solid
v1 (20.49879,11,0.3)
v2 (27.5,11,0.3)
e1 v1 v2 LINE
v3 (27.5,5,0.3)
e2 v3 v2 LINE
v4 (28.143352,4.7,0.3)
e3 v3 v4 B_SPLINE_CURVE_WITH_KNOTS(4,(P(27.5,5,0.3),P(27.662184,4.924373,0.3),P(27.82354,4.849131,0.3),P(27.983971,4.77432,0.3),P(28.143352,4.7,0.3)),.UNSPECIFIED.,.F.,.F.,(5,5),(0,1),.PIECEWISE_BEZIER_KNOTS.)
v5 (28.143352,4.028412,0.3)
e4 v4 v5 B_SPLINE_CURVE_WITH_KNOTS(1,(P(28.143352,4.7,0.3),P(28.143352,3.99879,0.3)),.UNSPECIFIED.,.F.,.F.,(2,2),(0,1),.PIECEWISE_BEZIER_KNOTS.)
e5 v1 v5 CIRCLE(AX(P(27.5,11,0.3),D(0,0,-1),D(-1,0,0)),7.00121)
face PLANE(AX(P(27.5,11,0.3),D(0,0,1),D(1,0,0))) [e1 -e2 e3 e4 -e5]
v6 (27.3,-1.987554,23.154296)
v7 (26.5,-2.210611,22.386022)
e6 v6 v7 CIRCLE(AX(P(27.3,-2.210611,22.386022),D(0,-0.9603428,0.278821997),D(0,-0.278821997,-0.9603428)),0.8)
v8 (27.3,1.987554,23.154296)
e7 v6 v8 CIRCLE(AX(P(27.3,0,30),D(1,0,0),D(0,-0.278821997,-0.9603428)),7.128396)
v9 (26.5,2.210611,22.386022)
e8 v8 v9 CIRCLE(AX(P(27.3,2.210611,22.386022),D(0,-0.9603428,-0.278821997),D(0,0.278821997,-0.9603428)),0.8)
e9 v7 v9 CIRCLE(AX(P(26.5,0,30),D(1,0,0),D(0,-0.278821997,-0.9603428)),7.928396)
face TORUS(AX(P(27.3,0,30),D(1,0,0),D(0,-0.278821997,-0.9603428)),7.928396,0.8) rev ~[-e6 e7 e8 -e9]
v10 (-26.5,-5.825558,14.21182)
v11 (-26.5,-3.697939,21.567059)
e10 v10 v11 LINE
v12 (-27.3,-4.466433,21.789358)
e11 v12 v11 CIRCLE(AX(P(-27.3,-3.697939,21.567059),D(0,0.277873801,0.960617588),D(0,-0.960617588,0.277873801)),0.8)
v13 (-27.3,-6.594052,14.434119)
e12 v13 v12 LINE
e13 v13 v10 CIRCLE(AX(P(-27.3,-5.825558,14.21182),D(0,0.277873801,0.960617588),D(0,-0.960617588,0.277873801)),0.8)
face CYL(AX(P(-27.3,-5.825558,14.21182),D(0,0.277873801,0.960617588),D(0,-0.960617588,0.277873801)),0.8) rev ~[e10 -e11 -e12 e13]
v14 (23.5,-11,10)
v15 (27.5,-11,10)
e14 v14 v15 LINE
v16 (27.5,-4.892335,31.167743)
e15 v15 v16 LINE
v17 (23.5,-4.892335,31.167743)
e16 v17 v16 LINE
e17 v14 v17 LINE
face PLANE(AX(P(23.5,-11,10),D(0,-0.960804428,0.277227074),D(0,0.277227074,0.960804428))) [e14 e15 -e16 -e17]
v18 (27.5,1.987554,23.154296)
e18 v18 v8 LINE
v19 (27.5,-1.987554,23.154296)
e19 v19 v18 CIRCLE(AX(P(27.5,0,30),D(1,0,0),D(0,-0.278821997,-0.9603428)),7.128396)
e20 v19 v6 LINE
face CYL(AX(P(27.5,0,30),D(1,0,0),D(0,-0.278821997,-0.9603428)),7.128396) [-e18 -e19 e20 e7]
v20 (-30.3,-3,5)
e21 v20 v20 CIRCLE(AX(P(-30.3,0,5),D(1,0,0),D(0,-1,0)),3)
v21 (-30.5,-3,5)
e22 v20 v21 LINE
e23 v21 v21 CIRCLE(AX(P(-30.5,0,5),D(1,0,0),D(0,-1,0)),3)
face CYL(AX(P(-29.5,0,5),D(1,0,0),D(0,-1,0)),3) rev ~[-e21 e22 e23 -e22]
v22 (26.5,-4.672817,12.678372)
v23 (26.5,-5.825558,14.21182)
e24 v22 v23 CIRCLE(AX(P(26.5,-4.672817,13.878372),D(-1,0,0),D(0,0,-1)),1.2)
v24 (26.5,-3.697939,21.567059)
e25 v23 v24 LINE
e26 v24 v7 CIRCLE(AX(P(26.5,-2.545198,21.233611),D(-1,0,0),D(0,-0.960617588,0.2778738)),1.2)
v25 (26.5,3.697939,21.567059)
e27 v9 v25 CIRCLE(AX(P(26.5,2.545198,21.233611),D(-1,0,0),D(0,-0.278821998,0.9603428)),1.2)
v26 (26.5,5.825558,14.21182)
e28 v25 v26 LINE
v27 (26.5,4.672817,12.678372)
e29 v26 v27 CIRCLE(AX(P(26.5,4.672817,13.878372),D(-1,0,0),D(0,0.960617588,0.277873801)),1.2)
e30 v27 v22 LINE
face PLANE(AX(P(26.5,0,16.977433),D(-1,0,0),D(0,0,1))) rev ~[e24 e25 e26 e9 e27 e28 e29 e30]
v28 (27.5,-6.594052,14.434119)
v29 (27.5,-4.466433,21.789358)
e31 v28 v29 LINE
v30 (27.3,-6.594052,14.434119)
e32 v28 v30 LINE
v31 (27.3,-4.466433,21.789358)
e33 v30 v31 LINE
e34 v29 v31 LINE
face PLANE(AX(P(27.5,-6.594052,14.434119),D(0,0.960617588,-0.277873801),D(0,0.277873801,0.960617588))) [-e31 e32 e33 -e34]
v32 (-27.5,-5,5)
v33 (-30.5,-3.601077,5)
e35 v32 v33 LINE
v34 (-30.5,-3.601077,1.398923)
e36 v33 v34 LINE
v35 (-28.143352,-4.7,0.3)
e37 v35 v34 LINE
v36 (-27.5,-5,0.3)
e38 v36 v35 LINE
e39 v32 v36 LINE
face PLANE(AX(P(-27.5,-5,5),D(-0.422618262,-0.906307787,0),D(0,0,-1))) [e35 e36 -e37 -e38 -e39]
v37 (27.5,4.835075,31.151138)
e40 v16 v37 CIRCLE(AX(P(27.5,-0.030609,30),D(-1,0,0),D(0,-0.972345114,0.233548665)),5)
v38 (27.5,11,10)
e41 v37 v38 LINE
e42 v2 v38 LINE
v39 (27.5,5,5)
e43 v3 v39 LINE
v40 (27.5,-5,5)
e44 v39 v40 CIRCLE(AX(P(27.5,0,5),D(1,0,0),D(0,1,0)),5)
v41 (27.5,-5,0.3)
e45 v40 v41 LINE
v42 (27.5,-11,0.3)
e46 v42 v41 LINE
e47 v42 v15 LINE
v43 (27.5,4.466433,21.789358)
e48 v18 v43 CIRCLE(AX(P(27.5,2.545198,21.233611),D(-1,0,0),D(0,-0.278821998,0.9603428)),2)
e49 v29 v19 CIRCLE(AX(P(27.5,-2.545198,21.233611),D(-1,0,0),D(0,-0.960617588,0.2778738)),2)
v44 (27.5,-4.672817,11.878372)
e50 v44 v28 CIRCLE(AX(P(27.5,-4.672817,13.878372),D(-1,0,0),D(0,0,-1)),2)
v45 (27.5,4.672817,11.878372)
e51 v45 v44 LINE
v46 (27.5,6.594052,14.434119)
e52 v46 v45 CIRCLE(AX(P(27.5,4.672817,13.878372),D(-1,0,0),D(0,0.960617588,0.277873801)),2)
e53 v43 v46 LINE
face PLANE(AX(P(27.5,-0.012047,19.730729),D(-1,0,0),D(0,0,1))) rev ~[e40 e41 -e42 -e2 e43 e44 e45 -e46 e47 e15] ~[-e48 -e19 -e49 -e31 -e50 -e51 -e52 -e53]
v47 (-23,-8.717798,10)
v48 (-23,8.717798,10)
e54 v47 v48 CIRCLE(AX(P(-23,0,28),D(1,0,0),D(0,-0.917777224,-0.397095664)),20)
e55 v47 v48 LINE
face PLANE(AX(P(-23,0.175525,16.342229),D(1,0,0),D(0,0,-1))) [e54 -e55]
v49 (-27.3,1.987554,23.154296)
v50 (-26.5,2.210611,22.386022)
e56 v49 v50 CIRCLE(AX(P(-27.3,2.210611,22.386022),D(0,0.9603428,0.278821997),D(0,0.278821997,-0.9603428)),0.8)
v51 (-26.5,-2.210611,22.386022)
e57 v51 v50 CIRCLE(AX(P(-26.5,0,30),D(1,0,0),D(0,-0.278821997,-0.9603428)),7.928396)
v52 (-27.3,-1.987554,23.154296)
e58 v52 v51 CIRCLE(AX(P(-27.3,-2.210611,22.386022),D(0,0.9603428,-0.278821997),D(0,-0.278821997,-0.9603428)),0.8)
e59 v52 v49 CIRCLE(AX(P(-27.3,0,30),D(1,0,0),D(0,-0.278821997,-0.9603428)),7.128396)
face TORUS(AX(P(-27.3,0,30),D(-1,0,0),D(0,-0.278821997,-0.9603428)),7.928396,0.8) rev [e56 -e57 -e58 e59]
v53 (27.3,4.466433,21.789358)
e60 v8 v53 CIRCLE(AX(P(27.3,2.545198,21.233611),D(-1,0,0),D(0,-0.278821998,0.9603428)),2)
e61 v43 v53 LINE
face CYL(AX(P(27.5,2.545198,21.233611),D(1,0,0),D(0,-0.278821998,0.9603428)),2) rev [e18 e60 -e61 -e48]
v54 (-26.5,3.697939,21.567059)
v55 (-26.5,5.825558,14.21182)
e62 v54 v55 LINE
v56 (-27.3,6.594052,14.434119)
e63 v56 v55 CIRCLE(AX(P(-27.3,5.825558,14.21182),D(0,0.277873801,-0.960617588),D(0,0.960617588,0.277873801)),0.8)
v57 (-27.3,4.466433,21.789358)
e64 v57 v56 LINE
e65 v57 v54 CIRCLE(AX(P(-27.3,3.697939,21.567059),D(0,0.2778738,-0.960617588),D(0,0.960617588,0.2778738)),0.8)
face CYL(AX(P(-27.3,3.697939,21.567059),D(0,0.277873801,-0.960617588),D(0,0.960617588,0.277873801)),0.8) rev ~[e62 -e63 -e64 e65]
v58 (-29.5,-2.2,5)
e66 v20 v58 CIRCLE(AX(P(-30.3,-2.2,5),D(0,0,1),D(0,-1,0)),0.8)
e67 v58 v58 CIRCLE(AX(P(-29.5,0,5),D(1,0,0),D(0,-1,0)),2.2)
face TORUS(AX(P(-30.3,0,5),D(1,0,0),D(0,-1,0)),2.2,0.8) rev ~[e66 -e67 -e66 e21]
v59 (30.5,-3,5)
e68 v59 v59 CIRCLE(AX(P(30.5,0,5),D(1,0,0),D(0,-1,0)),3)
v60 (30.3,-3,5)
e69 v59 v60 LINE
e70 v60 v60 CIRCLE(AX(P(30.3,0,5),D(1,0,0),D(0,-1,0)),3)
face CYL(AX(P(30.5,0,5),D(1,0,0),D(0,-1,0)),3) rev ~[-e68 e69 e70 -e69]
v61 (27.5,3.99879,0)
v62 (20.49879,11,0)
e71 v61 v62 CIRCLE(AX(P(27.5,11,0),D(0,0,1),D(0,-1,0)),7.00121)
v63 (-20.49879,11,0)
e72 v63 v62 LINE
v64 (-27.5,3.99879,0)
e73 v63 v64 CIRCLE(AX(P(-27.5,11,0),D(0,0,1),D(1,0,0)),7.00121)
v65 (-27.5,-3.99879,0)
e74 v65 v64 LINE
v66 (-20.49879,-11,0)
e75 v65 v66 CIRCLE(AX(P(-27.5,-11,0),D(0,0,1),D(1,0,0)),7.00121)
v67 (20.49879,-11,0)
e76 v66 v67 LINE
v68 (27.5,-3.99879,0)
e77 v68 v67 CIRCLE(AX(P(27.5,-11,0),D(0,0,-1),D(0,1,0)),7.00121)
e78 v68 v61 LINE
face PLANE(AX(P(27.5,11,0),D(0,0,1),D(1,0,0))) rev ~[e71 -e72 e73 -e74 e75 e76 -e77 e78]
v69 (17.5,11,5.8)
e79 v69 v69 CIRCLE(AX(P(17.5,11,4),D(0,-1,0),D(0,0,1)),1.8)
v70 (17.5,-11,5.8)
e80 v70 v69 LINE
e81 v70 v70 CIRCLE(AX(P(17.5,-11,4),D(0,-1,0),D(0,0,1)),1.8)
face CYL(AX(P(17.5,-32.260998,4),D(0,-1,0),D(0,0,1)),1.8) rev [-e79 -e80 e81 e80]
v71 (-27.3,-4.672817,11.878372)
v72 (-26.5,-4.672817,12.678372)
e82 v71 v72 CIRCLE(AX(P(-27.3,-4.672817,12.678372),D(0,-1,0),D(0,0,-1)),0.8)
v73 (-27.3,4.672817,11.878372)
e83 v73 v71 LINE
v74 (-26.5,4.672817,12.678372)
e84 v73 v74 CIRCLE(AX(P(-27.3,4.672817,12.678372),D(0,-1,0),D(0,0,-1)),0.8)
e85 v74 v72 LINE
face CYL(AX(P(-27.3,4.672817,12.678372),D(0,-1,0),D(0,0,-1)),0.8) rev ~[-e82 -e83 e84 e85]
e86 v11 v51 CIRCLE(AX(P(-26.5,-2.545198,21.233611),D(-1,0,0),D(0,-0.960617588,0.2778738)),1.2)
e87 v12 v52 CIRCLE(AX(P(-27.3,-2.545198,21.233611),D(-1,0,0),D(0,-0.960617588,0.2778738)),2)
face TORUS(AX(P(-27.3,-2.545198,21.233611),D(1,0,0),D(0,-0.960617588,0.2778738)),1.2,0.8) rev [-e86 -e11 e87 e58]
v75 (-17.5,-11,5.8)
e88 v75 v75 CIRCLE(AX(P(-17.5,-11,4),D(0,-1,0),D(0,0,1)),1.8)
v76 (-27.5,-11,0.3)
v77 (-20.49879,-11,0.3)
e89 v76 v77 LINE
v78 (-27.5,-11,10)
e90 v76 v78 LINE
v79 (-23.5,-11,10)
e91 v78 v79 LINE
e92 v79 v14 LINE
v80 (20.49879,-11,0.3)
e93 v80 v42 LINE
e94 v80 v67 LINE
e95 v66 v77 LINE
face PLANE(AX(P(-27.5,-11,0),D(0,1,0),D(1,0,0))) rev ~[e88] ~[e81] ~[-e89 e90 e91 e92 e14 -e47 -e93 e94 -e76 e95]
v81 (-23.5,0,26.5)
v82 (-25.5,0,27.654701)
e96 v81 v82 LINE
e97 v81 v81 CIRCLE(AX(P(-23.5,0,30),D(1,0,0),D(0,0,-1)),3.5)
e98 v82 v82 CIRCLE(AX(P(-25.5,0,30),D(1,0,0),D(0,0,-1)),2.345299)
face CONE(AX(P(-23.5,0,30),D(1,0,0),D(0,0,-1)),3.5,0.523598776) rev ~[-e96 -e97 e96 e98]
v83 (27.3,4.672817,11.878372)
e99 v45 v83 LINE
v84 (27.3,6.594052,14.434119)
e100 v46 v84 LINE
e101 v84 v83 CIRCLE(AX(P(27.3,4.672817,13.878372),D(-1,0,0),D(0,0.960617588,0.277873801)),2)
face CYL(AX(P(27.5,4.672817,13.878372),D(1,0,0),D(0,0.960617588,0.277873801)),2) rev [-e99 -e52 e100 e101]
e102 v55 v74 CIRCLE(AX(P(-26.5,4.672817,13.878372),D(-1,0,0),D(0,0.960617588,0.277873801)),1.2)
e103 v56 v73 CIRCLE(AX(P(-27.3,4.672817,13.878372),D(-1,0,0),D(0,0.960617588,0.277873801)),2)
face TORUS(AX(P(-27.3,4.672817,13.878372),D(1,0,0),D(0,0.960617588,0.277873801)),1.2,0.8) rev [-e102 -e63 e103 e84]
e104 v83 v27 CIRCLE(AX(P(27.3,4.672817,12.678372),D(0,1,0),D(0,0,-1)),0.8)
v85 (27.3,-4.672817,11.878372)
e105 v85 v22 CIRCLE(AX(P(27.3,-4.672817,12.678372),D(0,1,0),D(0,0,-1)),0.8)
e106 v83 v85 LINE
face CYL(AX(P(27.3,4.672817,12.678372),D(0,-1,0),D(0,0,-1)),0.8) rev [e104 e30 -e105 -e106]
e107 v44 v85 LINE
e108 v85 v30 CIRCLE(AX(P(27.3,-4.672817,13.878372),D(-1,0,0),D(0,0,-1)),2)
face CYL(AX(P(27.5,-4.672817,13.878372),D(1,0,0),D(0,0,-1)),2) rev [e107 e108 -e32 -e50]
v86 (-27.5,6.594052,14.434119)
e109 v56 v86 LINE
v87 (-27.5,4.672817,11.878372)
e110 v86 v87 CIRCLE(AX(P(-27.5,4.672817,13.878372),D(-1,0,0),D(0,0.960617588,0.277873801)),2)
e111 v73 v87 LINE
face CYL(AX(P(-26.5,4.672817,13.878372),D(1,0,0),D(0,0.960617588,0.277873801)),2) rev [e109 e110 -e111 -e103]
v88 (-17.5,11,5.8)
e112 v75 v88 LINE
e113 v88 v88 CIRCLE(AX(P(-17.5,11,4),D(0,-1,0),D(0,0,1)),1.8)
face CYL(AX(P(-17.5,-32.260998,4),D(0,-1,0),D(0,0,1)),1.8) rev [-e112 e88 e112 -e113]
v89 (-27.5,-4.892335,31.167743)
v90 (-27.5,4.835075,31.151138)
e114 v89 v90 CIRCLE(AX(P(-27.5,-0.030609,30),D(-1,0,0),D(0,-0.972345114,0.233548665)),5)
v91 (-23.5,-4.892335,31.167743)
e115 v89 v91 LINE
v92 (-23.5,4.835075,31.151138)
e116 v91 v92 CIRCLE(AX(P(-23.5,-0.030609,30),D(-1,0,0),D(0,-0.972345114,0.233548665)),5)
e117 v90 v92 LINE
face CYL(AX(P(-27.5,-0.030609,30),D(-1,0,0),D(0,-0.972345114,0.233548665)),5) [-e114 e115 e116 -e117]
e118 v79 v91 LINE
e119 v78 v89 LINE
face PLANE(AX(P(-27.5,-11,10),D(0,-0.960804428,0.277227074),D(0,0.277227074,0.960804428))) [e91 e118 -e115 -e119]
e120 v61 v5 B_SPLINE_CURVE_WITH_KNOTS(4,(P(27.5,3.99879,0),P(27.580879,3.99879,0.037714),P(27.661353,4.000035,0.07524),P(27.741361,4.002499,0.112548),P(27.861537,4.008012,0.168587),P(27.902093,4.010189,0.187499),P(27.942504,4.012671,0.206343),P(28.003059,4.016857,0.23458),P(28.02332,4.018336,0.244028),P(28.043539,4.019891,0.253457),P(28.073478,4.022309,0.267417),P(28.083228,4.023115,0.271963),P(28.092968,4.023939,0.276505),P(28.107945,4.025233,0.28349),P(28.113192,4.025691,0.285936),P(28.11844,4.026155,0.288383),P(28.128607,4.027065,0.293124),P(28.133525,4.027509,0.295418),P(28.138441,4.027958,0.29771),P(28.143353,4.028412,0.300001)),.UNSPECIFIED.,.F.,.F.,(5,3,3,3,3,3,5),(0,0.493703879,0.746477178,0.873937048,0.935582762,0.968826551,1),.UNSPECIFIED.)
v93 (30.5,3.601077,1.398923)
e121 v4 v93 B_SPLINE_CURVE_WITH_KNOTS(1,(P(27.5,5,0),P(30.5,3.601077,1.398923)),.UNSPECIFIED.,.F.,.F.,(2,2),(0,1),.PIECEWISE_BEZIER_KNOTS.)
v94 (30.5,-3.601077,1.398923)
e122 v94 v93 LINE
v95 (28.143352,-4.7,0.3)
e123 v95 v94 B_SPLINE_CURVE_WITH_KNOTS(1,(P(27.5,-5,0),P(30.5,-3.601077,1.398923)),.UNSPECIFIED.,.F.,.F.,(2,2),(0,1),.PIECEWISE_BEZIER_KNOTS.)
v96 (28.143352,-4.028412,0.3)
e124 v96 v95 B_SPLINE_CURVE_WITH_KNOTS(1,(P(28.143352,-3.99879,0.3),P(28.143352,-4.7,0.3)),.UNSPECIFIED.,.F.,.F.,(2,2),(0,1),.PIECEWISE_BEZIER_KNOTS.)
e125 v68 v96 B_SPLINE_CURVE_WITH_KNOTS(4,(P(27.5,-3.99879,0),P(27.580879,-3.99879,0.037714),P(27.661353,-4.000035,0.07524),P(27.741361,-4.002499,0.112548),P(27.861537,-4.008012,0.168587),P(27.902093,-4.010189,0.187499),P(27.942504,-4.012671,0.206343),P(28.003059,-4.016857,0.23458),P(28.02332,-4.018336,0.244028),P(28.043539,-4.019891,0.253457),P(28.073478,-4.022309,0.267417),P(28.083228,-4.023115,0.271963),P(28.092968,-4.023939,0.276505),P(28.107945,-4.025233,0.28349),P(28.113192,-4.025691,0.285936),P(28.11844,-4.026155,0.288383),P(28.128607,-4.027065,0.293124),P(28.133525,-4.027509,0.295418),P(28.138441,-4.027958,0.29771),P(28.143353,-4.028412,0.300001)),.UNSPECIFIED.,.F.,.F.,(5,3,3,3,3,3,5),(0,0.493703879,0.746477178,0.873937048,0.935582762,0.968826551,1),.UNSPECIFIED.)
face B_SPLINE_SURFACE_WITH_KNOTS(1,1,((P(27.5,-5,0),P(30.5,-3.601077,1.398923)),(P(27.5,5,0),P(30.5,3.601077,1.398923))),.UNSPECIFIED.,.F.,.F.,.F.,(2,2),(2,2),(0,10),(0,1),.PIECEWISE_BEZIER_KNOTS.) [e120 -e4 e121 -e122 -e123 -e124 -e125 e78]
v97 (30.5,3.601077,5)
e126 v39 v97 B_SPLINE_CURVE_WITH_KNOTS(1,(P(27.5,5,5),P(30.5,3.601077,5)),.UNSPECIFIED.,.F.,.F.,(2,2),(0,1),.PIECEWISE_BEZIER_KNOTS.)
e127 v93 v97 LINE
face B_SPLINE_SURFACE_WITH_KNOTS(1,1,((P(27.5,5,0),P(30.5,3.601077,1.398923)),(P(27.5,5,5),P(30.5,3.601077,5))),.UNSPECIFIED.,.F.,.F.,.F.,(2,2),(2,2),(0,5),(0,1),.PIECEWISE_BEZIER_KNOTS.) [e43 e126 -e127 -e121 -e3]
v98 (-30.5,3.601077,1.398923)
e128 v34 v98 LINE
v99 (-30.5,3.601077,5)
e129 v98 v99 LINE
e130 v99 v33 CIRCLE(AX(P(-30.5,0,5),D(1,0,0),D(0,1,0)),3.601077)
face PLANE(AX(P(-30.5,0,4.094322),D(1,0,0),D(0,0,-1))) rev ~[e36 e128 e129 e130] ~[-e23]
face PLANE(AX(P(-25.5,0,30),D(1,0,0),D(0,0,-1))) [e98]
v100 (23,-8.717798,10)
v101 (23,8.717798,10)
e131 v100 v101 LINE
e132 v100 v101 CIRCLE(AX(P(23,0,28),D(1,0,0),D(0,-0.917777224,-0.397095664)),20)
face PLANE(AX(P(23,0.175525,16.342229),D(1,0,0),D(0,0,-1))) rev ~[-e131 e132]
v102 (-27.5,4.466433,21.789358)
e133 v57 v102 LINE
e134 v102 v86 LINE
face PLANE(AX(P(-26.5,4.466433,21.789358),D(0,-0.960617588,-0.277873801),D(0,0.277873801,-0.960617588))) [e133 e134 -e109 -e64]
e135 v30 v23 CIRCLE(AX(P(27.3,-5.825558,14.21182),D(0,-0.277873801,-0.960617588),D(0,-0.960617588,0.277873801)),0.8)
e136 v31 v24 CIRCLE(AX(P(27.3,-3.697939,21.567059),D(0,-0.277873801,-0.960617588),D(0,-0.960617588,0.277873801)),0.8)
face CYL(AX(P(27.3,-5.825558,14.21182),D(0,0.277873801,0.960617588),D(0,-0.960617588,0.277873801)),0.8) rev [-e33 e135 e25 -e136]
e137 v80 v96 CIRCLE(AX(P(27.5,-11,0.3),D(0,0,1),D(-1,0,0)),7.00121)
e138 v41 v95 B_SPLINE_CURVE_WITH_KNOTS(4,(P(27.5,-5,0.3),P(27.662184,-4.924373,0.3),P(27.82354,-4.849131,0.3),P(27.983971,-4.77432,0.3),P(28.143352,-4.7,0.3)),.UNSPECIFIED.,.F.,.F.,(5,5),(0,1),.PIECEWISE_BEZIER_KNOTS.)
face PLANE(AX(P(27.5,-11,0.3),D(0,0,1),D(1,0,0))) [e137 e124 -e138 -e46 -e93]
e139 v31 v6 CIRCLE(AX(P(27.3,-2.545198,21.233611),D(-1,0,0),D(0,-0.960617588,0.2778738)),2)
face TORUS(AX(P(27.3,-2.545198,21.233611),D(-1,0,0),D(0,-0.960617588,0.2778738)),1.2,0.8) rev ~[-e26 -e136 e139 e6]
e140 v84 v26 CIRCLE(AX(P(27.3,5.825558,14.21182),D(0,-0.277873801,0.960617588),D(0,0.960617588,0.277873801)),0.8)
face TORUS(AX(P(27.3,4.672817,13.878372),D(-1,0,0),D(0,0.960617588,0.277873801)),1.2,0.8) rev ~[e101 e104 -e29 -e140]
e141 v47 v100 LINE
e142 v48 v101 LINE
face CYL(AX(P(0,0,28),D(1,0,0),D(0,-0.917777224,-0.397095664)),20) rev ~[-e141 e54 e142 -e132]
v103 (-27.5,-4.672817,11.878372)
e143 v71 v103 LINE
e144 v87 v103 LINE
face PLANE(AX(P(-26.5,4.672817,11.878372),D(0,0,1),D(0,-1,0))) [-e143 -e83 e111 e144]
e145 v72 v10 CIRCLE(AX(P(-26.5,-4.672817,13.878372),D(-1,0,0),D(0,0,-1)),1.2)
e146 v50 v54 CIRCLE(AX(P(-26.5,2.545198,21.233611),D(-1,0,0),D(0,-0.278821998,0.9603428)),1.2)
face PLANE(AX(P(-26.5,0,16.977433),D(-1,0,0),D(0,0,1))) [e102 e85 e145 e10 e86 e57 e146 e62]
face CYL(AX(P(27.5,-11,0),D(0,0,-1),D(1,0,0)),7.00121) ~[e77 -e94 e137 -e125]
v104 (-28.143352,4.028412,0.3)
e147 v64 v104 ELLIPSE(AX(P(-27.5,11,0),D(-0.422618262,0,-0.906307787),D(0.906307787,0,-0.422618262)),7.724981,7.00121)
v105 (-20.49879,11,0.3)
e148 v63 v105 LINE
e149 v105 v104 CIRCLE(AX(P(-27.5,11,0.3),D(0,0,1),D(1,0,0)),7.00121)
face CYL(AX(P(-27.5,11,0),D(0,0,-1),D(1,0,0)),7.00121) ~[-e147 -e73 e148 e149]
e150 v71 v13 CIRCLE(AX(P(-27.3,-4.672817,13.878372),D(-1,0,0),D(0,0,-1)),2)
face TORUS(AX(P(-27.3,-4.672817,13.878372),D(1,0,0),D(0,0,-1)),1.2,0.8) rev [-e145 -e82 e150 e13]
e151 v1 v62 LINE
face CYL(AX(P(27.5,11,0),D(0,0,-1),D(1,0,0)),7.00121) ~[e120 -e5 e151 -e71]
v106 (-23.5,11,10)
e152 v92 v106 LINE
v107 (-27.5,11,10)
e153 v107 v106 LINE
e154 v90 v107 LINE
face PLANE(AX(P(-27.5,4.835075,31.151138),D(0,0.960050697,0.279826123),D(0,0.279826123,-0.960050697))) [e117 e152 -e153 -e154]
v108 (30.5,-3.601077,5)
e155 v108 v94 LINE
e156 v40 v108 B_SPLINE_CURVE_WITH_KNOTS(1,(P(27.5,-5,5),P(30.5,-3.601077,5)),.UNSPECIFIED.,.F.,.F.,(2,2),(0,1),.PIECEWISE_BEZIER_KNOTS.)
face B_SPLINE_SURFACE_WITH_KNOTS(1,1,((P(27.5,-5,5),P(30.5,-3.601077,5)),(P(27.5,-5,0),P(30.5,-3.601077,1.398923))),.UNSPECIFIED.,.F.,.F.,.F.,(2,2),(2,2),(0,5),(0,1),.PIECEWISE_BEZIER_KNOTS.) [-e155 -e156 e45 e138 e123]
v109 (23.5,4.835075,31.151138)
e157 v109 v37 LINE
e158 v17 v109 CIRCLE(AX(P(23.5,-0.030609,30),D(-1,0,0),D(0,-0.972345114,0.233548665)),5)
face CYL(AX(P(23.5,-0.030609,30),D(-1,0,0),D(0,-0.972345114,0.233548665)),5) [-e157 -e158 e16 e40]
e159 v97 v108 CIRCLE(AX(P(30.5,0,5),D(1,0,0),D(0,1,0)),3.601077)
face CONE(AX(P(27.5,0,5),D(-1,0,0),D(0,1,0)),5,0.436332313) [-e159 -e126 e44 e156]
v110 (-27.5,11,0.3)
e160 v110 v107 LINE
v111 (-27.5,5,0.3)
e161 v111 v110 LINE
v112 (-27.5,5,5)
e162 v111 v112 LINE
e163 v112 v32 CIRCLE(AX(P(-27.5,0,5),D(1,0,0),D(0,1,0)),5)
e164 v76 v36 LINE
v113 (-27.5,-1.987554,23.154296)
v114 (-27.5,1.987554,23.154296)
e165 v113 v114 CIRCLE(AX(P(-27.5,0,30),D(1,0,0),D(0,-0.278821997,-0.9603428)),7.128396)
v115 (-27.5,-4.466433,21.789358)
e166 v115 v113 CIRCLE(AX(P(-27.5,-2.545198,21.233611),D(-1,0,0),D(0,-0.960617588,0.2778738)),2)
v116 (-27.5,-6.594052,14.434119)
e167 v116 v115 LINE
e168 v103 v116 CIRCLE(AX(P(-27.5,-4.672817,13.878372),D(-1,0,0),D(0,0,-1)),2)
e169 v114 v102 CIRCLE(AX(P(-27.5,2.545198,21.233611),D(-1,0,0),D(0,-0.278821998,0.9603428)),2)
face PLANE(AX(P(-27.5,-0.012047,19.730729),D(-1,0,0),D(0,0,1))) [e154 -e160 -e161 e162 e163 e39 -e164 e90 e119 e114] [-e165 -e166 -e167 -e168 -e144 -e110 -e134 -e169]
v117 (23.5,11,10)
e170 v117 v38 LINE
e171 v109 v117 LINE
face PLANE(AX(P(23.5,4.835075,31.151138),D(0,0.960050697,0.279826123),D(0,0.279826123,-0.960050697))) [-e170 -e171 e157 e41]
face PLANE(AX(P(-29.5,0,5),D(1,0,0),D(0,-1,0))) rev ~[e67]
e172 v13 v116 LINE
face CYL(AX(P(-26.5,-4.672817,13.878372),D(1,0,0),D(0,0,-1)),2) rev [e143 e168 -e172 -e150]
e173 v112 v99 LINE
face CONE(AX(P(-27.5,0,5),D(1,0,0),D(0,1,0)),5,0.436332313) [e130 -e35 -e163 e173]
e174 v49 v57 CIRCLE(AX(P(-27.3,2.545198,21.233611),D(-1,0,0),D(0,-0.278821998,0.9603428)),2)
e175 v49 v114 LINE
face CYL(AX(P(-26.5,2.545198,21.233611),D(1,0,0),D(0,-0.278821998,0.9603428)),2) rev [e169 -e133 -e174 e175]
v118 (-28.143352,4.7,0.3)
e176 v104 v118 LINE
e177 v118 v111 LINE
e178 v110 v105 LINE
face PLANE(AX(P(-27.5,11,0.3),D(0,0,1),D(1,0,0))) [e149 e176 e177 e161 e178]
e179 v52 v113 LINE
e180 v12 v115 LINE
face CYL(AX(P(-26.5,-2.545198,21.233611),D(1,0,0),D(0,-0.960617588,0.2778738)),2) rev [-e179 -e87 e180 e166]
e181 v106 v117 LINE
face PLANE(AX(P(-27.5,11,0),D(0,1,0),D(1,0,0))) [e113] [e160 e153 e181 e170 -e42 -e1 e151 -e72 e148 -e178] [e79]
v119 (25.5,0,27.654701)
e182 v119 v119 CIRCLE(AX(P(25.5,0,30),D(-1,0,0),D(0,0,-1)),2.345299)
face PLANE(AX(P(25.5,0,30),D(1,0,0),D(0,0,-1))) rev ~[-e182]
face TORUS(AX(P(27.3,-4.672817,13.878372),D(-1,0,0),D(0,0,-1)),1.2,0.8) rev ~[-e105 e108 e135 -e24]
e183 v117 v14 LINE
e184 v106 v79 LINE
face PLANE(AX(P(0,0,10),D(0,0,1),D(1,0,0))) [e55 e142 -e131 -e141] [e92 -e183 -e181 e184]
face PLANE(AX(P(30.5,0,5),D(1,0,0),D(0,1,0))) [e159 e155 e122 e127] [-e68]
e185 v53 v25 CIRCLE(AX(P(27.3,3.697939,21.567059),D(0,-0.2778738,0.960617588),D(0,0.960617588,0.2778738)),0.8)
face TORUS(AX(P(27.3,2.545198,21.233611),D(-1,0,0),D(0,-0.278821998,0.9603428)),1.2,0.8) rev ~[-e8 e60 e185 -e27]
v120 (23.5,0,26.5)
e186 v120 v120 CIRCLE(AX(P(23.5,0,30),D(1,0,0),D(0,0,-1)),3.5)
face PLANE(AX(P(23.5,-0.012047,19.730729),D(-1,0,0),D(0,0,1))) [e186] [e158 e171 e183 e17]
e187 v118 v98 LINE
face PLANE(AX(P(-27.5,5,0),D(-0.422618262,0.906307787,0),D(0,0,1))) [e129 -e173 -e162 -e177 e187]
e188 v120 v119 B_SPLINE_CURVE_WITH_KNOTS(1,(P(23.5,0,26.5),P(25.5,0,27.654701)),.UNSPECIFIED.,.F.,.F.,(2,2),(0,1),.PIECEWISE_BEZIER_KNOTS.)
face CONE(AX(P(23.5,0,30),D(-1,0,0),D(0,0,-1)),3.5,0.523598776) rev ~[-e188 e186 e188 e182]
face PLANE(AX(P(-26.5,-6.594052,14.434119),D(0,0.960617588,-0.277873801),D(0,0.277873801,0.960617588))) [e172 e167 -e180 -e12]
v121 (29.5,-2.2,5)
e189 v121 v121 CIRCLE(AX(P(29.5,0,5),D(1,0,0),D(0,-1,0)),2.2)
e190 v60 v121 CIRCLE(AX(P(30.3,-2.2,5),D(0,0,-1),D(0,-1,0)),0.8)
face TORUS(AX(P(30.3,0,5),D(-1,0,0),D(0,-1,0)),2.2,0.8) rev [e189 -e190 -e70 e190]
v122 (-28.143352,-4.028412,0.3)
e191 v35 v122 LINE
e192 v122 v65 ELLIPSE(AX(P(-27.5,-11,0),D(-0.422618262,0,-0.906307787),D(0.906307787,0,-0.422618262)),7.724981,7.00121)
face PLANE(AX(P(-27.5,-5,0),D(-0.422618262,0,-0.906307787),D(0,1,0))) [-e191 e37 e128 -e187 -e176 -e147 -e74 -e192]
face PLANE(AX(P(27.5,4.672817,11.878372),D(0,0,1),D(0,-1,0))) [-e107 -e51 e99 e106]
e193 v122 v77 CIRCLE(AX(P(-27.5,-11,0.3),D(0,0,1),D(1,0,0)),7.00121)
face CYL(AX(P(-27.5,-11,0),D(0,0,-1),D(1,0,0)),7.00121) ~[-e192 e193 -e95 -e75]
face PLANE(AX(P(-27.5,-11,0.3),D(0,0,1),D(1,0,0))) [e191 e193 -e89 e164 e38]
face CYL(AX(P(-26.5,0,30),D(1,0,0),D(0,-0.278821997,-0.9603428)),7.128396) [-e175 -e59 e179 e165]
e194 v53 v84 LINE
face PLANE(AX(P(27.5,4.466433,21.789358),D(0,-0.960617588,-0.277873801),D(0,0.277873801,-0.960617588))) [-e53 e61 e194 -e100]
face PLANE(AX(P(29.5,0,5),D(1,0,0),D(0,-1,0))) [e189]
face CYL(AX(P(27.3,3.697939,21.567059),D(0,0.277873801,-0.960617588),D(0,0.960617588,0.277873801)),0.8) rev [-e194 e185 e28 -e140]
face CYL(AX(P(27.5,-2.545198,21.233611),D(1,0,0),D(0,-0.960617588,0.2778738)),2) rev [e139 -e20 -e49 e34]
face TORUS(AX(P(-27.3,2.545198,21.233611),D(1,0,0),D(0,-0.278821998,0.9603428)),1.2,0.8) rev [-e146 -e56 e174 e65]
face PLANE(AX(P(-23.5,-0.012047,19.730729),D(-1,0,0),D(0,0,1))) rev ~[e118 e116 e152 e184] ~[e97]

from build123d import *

# Parameters (mm, degrees)
SKETCH1_W               = 55
SKETCH1_H               = 22
BOSS_EXTRUDE1_DEPTH     = 10
CUT_EXTRUDE1_DEPTH      = 32.260998065
CUT_EXTRUDE1_DEPTH_BACK = 32.260998065
SKETCH2_R               = 1.8
BOSS_EXTRUDE2_START     = -27.5
BOSS_EXTRUDE2_DEPTH     = 4
BOSS_EXTRUDE3_START     = 23.5
BOSS_EXTRUDE3_DEPTH     = 4
CUT_EXTRUDE2_START      = -23.5
SKETCH4_R               = 3.5
CUT_EXTRUDE2_DEPTH      = 2
CUT_EXTRUDE2_DRAFT      = -30
CUT_EXTRUDE3_START      = 23.5
SKETCH4_2_R             = 3.5
CUT_EXTRUDE3_DEPTH      = 2
CUT_EXTRUDE3_TAPER      = 30
CUT_EXTRUDE4_DEPTH      = 23
BOSS_EXTRUDE4_START     = 27.5
BOSS_EXTRUDE4_DEPTH     = 3
BOSS_EXTRUDE4_TAPER     = 25
BOSS_EXTRUDE5_START     = -27.5
BOSS_EXTRUDE5_DEPTH     = 3
BOSS_EXTRUDE5_DRAFT     = -25
CUT_EXTRUDE5_START      = 30.5
SKETCH7_R               = 3
CUT_EXTRUDE5_DEPTH      = 1
CUT_EXTRUDE6_START      = -29.5
SKETCH7_2_R             = 3
CUT_EXTRUDE6_DEPTH      = 1
CUT_EXTRUDE7_START      = 27.5
CUT_EXTRUDE7_DEPTH      = 1
CUT_EXTRUDE8_START      = -26.5
CUT_EXTRUDE8_DEPTH      = 1
SKETCH9_R               = 7.00121046
BOSS_EXTRUDE6_DEPTH     = 0.3
FILLET1_R               = 0.8


with BuildPart() as part:
    # Sketch1 → Boss-Extrude1 (new body)
    with BuildSketch(Plane.XY):
        Rectangle(SKETCH1_W, SKETCH1_H)
    extrude(amount=BOSS_EXTRUDE1_DEPTH)

    # Sketch2 → Cut-Extrude1 (cut, two sides: drawn at the far end of the back side and taken through both)
    with BuildSketch(Plane(origin=(0, 0, 0), x_dir=(1, 0, 0), z_dir=(0, 1, 0)).offset(-CUT_EXTRUDE1_DEPTH_BACK)):
        with Locations(Location((-17.5, -4, 0), (0, 0, 270))):
            Circle(SKETCH2_R)
        with Locations(Location((17.5, -4, 0), (0, 0, 270))):
            Circle(SKETCH2_R)
    extrude(amount=CUT_EXTRUDE1_DEPTH + CUT_EXTRUDE1_DEPTH_BACK, mode=Mode.SUBTRACT)

    # Sketch3 → Boss-Extrude2 (add)
    with BuildSketch(Plane(origin=(0, 0, 0), x_dir=(0, 0, -1), z_dir=(1, 0, 0)).offset(BOSS_EXTRUDE2_START)):
        with BuildLine():
            Line((-31.151137667, 4.83507467), (-10, 11))
            Line((-10, 11), (-10, -11))
            Line((-10, -11), (-31.167743327, -4.892335032))
            ThreePointArc((-31.167743327, -4.892335032), (-34.999992715, -0.022073975), (-31.151137667, 4.83507467))
        make_face()
    extrude(amount=BOSS_EXTRUDE2_DEPTH)

    # Sketch3<2> → Boss-Extrude3 (add)
    with BuildSketch(Plane(origin=(0, 0, 0), x_dir=(0, 0, -1), z_dir=(1, 0, 0)).offset(BOSS_EXTRUDE3_START)):
        with BuildLine():
            Line((-31.151137667, 4.83507467), (-10, 11))
            Line((-10, 11), (-10, -11))
            Line((-10, -11), (-31.167743327, -4.892335032))
            ThreePointArc((-31.167743327, -4.892335032), (-34.999992715, -0.022073975), (-31.151137667, 4.83507467))
        make_face()
    extrude(amount=BOSS_EXTRUDE3_DEPTH)


with BuildPart() as cut_extrude2_tool:
    # Sketch4 → Cut-Extrude2 (with draft: the straight prism first)
    with BuildSketch(Plane(origin=(0, 0, 0), x_dir=(0, 0, -1), z_dir=(1, 0, 0)).offset(CUT_EXTRUDE2_START)):
        with Locations((-30, 0)):
            Circle(SKETCH4_R)
    extrude(amount=-CUT_EXTRUDE2_DEPTH)
    # Cut-Extrude2: the draft: its side faces are tilted about the plane it starts from
    cut_extrude2_sides = [cut_extrude2_tool.faces().sort_by_distance(p)[0] for p in [
        (-24.5, 0, 33.5),
    ]]
    draft(cut_extrude2_sides, Plane(origin=(0, 0, 0), x_dir=(0, 0, -1), z_dir=(1, 0, 0)).offset(CUT_EXTRUDE2_START), CUT_EXTRUDE2_DRAFT)


with BuildPart() as part_1:
    add(part.part)

    # Cut-Extrude2: cut by cut_extrude2_tool
    add(cut_extrude2_tool.part, mode=Mode.SUBTRACT)

    # Sketch4<2> → Cut-Extrude3 (cut)
    with BuildSketch(Plane(origin=(0, 0, 0), x_dir=(0, 0, -1), z_dir=(1, 0, 0)).offset(CUT_EXTRUDE3_START)):
        with Locations((-30, 0)):
            Circle(SKETCH4_2_R)
    extrude(amount=CUT_EXTRUDE3_DEPTH, taper=CUT_EXTRUDE3_TAPER, mode=Mode.SUBTRACT)

    # Sketch5 → Cut-Extrude4 (cut, symmetric)
    with BuildSketch(Plane(origin=(0, 0, 0), x_dir=(0, 0, -1), z_dir=(1, 0, 0))):
        with BuildLine():
            Line((-20.614301305, 18.586324402), (-20.058086713, -18.355544485))
            ThreePointArc((-20.058086713, -18.355544485), (-8.002266591, 0.301095517), (-20.614301305, 18.586324402))
        make_face()
    extrude(amount=CUT_EXTRUDE4_DEPTH, both=True, mode=Mode.SUBTRACT)

    # Sketch6 → Boss-Extrude4 (add)
    with BuildSketch(Plane(origin=(0, 0, 0), x_dir=(0, 0, -1), z_dir=(1, 0, 0)).offset(BOSS_EXTRUDE4_START)):
        with BuildLine():
            Line((0, -5), (0, 5))
            Line((0, 5), (-5, 5))
            ThreePointArc((-5, 5), (-10, 0), (-5, -5))
            Line((-5, -5), (0, -5))
        make_face()
    extrude(amount=BOSS_EXTRUDE4_DEPTH, taper=BOSS_EXTRUDE4_TAPER)


with BuildPart() as boss_extrude5_tool:
    # Sketch6<2> → Boss-Extrude5 (with draft: the straight prism first)
    with BuildSketch(Plane(origin=(0, 0, 0), x_dir=(0, 0, -1), z_dir=(1, 0, 0)).offset(BOSS_EXTRUDE5_START)):
        with BuildLine():
            Line((0, -5), (0, 5))
            Line((0, 5), (-5, 5))
            ThreePointArc((-5, 5), (-10, 0), (-5, -5))
            Line((-5, -5), (0, -5))
        make_face()
    extrude(amount=-BOSS_EXTRUDE5_DEPTH)
    # Boss-Extrude5: the draft: its side faces are tilted about the plane it starts from
    boss_extrude5_sides = [boss_extrude5_tool.faces().sort_by_distance(p)[0] for p in [
        (-29, -5, 2.5),
        (-29, 0, 0),
        (-29, 5, 2.5),
        (-29, 0, 10),
    ]]
    draft(boss_extrude5_sides, Plane(origin=(0, 0, 0), x_dir=(0, 0, -1), z_dir=(1, 0, 0)).offset(BOSS_EXTRUDE5_START), BOSS_EXTRUDE5_DRAFT)


with BuildPart() as part_2:
    add(part_1.part)

    # Boss-Extrude5: add boss_extrude5_tool
    add(boss_extrude5_tool.part)

    # Sketch7 → Cut-Extrude5 (cut)
    with BuildSketch(Plane(origin=(0, 0, 0), x_dir=(0, 0, -1), z_dir=(1, 0, 0)).offset(CUT_EXTRUDE5_START)):
        with Locations(Location((-5, 0, 0), (0, 0, 270))):
            Circle(SKETCH7_R)
    extrude(amount=-CUT_EXTRUDE5_DEPTH, mode=Mode.SUBTRACT)

    # Sketch7<2> → Cut-Extrude6 (cut)
    with BuildSketch(Plane(origin=(0, 0, 0), x_dir=(0, 0, -1), z_dir=(1, 0, 0)).offset(CUT_EXTRUDE6_START)):
        with Locations(Location((-5, 0, 0), (0, 0, 270))):
            Circle(SKETCH7_2_R)
    extrude(amount=-CUT_EXTRUDE6_DEPTH, mode=Mode.SUBTRACT)

    # Sketch8 → Cut-Extrude7 (cut)
    with BuildSketch(Plane(origin=(0, 0, 0), x_dir=(0, 0, -1), z_dir=(1, 0, 0)).offset(CUT_EXTRUDE7_START)):
        with BuildLine():
            Line((-11.878371675, 4.672816565), (-11.878371675, -4.672816565))
            ThreePointArc((-11.878371675, -4.672816565), (-12.676601149, -6.271487138), (-14.434119277, -6.594051741))
            Line((-14.434119277, -6.594051741), (-21.789358175, -4.466432788))
            ThreePointArc((-21.789358175, -4.466432788), (-22.985578278, -3.509878473), (-23.154296174, -1.987553618))
            ThreePointArc((-23.154296174, -1.987553618), (-22.871603949, 0), (-23.154296174, 1.987553618))
            ThreePointArc((-23.154296174, 1.987553618), (-22.985578278, 3.509878473), (-21.789358175, 4.466432788))
            Line((-21.789358175, 4.466432788), (-14.434119277, 6.594051741))
            ThreePointArc((-14.434119277, 6.594051741), (-12.676601149, 6.271487138), (-11.878371675, 4.672816565))
        make_face()
    extrude(amount=-CUT_EXTRUDE7_DEPTH, mode=Mode.SUBTRACT)

    # Sketch8<2> → Cut-Extrude8 (cut)
    with BuildSketch(Plane(origin=(0, 0, 0), x_dir=(0, 0, -1), z_dir=(1, 0, 0)).offset(CUT_EXTRUDE8_START)):
        with BuildLine():
            Line((-11.878371675, 4.672816565), (-11.878371675, -4.672816565))
            ThreePointArc((-11.878371675, -4.672816565), (-12.676601149, -6.271487138), (-14.434119277, -6.594051741))
            Line((-14.434119277, -6.594051741), (-21.789358175, -4.466432788))
            ThreePointArc((-21.789358175, -4.466432788), (-22.985578278, -3.509878473), (-23.154296174, -1.987553618))
            ThreePointArc((-23.154296174, -1.987553618), (-22.871603949, 0), (-23.154296174, 1.987553618))
            ThreePointArc((-23.154296174, 1.987553618), (-22.985578278, 3.509878473), (-21.789358175, 4.466432788))
            Line((-21.789358175, 4.466432788), (-14.434119277, 6.594051741))
            ThreePointArc((-14.434119277, 6.594051741), (-12.676601149, 6.271487138), (-11.878371675, 4.672816565))
        make_face()
    extrude(amount=-CUT_EXTRUDE8_DEPTH, mode=Mode.SUBTRACT)

    # Sketch9 → Boss-Extrude6 (add)
    with BuildSketch(Plane.XY):
        with Locations((27.5, 11)):
            Circle(SKETCH9_R)
        with Locations((-27.5, 11)):
            Circle(SKETCH9_R)
        with Locations((-27.5, -11)):
            Circle(SKETCH9_R)
        with Locations((27.5, -11)):
            Circle(SKETCH9_R)
    extrude(amount=BOSS_EXTRUDE6_DEPTH)

    # Fillet1
    fillet1_edges = [part_2.edges().sort_by_distance(p)[0] for p in [
        (26.5, 0, 22.871603949),
        (26.5, 5.530242265, 18.111738726),
        (26.5, 0, 11.878371675),
        (26.5, -5.530242265, 18.111738726),
        (26.5, -3.509878473, 22.985578278),
        (26.5, 3.509878473, 22.985578278),
        (26.5, 6.271487138, 12.676601149),
        (26.5, -6.271487138, 12.676601149),
        (-26.5, 0, 22.871603949),
        (-26.5, -3.509878473, 22.985578278),
        (-26.5, -5.530242265, 18.111738726),
        (-26.5, -6.271487138, 12.676601149),
        (-26.5, 0, 11.878371675),
        (-26.5, 6.271487138, 12.676601149),
        (-26.5, 5.530242265, 18.111738726),
        (-26.5, 3.509878473, 22.985578278),
        (29.5, 3, 5),
        (-29.5, 3, 5),
    ]]
    fillet(fillet1_edges, radius=FILLET1_R)


solid = part_2.part
